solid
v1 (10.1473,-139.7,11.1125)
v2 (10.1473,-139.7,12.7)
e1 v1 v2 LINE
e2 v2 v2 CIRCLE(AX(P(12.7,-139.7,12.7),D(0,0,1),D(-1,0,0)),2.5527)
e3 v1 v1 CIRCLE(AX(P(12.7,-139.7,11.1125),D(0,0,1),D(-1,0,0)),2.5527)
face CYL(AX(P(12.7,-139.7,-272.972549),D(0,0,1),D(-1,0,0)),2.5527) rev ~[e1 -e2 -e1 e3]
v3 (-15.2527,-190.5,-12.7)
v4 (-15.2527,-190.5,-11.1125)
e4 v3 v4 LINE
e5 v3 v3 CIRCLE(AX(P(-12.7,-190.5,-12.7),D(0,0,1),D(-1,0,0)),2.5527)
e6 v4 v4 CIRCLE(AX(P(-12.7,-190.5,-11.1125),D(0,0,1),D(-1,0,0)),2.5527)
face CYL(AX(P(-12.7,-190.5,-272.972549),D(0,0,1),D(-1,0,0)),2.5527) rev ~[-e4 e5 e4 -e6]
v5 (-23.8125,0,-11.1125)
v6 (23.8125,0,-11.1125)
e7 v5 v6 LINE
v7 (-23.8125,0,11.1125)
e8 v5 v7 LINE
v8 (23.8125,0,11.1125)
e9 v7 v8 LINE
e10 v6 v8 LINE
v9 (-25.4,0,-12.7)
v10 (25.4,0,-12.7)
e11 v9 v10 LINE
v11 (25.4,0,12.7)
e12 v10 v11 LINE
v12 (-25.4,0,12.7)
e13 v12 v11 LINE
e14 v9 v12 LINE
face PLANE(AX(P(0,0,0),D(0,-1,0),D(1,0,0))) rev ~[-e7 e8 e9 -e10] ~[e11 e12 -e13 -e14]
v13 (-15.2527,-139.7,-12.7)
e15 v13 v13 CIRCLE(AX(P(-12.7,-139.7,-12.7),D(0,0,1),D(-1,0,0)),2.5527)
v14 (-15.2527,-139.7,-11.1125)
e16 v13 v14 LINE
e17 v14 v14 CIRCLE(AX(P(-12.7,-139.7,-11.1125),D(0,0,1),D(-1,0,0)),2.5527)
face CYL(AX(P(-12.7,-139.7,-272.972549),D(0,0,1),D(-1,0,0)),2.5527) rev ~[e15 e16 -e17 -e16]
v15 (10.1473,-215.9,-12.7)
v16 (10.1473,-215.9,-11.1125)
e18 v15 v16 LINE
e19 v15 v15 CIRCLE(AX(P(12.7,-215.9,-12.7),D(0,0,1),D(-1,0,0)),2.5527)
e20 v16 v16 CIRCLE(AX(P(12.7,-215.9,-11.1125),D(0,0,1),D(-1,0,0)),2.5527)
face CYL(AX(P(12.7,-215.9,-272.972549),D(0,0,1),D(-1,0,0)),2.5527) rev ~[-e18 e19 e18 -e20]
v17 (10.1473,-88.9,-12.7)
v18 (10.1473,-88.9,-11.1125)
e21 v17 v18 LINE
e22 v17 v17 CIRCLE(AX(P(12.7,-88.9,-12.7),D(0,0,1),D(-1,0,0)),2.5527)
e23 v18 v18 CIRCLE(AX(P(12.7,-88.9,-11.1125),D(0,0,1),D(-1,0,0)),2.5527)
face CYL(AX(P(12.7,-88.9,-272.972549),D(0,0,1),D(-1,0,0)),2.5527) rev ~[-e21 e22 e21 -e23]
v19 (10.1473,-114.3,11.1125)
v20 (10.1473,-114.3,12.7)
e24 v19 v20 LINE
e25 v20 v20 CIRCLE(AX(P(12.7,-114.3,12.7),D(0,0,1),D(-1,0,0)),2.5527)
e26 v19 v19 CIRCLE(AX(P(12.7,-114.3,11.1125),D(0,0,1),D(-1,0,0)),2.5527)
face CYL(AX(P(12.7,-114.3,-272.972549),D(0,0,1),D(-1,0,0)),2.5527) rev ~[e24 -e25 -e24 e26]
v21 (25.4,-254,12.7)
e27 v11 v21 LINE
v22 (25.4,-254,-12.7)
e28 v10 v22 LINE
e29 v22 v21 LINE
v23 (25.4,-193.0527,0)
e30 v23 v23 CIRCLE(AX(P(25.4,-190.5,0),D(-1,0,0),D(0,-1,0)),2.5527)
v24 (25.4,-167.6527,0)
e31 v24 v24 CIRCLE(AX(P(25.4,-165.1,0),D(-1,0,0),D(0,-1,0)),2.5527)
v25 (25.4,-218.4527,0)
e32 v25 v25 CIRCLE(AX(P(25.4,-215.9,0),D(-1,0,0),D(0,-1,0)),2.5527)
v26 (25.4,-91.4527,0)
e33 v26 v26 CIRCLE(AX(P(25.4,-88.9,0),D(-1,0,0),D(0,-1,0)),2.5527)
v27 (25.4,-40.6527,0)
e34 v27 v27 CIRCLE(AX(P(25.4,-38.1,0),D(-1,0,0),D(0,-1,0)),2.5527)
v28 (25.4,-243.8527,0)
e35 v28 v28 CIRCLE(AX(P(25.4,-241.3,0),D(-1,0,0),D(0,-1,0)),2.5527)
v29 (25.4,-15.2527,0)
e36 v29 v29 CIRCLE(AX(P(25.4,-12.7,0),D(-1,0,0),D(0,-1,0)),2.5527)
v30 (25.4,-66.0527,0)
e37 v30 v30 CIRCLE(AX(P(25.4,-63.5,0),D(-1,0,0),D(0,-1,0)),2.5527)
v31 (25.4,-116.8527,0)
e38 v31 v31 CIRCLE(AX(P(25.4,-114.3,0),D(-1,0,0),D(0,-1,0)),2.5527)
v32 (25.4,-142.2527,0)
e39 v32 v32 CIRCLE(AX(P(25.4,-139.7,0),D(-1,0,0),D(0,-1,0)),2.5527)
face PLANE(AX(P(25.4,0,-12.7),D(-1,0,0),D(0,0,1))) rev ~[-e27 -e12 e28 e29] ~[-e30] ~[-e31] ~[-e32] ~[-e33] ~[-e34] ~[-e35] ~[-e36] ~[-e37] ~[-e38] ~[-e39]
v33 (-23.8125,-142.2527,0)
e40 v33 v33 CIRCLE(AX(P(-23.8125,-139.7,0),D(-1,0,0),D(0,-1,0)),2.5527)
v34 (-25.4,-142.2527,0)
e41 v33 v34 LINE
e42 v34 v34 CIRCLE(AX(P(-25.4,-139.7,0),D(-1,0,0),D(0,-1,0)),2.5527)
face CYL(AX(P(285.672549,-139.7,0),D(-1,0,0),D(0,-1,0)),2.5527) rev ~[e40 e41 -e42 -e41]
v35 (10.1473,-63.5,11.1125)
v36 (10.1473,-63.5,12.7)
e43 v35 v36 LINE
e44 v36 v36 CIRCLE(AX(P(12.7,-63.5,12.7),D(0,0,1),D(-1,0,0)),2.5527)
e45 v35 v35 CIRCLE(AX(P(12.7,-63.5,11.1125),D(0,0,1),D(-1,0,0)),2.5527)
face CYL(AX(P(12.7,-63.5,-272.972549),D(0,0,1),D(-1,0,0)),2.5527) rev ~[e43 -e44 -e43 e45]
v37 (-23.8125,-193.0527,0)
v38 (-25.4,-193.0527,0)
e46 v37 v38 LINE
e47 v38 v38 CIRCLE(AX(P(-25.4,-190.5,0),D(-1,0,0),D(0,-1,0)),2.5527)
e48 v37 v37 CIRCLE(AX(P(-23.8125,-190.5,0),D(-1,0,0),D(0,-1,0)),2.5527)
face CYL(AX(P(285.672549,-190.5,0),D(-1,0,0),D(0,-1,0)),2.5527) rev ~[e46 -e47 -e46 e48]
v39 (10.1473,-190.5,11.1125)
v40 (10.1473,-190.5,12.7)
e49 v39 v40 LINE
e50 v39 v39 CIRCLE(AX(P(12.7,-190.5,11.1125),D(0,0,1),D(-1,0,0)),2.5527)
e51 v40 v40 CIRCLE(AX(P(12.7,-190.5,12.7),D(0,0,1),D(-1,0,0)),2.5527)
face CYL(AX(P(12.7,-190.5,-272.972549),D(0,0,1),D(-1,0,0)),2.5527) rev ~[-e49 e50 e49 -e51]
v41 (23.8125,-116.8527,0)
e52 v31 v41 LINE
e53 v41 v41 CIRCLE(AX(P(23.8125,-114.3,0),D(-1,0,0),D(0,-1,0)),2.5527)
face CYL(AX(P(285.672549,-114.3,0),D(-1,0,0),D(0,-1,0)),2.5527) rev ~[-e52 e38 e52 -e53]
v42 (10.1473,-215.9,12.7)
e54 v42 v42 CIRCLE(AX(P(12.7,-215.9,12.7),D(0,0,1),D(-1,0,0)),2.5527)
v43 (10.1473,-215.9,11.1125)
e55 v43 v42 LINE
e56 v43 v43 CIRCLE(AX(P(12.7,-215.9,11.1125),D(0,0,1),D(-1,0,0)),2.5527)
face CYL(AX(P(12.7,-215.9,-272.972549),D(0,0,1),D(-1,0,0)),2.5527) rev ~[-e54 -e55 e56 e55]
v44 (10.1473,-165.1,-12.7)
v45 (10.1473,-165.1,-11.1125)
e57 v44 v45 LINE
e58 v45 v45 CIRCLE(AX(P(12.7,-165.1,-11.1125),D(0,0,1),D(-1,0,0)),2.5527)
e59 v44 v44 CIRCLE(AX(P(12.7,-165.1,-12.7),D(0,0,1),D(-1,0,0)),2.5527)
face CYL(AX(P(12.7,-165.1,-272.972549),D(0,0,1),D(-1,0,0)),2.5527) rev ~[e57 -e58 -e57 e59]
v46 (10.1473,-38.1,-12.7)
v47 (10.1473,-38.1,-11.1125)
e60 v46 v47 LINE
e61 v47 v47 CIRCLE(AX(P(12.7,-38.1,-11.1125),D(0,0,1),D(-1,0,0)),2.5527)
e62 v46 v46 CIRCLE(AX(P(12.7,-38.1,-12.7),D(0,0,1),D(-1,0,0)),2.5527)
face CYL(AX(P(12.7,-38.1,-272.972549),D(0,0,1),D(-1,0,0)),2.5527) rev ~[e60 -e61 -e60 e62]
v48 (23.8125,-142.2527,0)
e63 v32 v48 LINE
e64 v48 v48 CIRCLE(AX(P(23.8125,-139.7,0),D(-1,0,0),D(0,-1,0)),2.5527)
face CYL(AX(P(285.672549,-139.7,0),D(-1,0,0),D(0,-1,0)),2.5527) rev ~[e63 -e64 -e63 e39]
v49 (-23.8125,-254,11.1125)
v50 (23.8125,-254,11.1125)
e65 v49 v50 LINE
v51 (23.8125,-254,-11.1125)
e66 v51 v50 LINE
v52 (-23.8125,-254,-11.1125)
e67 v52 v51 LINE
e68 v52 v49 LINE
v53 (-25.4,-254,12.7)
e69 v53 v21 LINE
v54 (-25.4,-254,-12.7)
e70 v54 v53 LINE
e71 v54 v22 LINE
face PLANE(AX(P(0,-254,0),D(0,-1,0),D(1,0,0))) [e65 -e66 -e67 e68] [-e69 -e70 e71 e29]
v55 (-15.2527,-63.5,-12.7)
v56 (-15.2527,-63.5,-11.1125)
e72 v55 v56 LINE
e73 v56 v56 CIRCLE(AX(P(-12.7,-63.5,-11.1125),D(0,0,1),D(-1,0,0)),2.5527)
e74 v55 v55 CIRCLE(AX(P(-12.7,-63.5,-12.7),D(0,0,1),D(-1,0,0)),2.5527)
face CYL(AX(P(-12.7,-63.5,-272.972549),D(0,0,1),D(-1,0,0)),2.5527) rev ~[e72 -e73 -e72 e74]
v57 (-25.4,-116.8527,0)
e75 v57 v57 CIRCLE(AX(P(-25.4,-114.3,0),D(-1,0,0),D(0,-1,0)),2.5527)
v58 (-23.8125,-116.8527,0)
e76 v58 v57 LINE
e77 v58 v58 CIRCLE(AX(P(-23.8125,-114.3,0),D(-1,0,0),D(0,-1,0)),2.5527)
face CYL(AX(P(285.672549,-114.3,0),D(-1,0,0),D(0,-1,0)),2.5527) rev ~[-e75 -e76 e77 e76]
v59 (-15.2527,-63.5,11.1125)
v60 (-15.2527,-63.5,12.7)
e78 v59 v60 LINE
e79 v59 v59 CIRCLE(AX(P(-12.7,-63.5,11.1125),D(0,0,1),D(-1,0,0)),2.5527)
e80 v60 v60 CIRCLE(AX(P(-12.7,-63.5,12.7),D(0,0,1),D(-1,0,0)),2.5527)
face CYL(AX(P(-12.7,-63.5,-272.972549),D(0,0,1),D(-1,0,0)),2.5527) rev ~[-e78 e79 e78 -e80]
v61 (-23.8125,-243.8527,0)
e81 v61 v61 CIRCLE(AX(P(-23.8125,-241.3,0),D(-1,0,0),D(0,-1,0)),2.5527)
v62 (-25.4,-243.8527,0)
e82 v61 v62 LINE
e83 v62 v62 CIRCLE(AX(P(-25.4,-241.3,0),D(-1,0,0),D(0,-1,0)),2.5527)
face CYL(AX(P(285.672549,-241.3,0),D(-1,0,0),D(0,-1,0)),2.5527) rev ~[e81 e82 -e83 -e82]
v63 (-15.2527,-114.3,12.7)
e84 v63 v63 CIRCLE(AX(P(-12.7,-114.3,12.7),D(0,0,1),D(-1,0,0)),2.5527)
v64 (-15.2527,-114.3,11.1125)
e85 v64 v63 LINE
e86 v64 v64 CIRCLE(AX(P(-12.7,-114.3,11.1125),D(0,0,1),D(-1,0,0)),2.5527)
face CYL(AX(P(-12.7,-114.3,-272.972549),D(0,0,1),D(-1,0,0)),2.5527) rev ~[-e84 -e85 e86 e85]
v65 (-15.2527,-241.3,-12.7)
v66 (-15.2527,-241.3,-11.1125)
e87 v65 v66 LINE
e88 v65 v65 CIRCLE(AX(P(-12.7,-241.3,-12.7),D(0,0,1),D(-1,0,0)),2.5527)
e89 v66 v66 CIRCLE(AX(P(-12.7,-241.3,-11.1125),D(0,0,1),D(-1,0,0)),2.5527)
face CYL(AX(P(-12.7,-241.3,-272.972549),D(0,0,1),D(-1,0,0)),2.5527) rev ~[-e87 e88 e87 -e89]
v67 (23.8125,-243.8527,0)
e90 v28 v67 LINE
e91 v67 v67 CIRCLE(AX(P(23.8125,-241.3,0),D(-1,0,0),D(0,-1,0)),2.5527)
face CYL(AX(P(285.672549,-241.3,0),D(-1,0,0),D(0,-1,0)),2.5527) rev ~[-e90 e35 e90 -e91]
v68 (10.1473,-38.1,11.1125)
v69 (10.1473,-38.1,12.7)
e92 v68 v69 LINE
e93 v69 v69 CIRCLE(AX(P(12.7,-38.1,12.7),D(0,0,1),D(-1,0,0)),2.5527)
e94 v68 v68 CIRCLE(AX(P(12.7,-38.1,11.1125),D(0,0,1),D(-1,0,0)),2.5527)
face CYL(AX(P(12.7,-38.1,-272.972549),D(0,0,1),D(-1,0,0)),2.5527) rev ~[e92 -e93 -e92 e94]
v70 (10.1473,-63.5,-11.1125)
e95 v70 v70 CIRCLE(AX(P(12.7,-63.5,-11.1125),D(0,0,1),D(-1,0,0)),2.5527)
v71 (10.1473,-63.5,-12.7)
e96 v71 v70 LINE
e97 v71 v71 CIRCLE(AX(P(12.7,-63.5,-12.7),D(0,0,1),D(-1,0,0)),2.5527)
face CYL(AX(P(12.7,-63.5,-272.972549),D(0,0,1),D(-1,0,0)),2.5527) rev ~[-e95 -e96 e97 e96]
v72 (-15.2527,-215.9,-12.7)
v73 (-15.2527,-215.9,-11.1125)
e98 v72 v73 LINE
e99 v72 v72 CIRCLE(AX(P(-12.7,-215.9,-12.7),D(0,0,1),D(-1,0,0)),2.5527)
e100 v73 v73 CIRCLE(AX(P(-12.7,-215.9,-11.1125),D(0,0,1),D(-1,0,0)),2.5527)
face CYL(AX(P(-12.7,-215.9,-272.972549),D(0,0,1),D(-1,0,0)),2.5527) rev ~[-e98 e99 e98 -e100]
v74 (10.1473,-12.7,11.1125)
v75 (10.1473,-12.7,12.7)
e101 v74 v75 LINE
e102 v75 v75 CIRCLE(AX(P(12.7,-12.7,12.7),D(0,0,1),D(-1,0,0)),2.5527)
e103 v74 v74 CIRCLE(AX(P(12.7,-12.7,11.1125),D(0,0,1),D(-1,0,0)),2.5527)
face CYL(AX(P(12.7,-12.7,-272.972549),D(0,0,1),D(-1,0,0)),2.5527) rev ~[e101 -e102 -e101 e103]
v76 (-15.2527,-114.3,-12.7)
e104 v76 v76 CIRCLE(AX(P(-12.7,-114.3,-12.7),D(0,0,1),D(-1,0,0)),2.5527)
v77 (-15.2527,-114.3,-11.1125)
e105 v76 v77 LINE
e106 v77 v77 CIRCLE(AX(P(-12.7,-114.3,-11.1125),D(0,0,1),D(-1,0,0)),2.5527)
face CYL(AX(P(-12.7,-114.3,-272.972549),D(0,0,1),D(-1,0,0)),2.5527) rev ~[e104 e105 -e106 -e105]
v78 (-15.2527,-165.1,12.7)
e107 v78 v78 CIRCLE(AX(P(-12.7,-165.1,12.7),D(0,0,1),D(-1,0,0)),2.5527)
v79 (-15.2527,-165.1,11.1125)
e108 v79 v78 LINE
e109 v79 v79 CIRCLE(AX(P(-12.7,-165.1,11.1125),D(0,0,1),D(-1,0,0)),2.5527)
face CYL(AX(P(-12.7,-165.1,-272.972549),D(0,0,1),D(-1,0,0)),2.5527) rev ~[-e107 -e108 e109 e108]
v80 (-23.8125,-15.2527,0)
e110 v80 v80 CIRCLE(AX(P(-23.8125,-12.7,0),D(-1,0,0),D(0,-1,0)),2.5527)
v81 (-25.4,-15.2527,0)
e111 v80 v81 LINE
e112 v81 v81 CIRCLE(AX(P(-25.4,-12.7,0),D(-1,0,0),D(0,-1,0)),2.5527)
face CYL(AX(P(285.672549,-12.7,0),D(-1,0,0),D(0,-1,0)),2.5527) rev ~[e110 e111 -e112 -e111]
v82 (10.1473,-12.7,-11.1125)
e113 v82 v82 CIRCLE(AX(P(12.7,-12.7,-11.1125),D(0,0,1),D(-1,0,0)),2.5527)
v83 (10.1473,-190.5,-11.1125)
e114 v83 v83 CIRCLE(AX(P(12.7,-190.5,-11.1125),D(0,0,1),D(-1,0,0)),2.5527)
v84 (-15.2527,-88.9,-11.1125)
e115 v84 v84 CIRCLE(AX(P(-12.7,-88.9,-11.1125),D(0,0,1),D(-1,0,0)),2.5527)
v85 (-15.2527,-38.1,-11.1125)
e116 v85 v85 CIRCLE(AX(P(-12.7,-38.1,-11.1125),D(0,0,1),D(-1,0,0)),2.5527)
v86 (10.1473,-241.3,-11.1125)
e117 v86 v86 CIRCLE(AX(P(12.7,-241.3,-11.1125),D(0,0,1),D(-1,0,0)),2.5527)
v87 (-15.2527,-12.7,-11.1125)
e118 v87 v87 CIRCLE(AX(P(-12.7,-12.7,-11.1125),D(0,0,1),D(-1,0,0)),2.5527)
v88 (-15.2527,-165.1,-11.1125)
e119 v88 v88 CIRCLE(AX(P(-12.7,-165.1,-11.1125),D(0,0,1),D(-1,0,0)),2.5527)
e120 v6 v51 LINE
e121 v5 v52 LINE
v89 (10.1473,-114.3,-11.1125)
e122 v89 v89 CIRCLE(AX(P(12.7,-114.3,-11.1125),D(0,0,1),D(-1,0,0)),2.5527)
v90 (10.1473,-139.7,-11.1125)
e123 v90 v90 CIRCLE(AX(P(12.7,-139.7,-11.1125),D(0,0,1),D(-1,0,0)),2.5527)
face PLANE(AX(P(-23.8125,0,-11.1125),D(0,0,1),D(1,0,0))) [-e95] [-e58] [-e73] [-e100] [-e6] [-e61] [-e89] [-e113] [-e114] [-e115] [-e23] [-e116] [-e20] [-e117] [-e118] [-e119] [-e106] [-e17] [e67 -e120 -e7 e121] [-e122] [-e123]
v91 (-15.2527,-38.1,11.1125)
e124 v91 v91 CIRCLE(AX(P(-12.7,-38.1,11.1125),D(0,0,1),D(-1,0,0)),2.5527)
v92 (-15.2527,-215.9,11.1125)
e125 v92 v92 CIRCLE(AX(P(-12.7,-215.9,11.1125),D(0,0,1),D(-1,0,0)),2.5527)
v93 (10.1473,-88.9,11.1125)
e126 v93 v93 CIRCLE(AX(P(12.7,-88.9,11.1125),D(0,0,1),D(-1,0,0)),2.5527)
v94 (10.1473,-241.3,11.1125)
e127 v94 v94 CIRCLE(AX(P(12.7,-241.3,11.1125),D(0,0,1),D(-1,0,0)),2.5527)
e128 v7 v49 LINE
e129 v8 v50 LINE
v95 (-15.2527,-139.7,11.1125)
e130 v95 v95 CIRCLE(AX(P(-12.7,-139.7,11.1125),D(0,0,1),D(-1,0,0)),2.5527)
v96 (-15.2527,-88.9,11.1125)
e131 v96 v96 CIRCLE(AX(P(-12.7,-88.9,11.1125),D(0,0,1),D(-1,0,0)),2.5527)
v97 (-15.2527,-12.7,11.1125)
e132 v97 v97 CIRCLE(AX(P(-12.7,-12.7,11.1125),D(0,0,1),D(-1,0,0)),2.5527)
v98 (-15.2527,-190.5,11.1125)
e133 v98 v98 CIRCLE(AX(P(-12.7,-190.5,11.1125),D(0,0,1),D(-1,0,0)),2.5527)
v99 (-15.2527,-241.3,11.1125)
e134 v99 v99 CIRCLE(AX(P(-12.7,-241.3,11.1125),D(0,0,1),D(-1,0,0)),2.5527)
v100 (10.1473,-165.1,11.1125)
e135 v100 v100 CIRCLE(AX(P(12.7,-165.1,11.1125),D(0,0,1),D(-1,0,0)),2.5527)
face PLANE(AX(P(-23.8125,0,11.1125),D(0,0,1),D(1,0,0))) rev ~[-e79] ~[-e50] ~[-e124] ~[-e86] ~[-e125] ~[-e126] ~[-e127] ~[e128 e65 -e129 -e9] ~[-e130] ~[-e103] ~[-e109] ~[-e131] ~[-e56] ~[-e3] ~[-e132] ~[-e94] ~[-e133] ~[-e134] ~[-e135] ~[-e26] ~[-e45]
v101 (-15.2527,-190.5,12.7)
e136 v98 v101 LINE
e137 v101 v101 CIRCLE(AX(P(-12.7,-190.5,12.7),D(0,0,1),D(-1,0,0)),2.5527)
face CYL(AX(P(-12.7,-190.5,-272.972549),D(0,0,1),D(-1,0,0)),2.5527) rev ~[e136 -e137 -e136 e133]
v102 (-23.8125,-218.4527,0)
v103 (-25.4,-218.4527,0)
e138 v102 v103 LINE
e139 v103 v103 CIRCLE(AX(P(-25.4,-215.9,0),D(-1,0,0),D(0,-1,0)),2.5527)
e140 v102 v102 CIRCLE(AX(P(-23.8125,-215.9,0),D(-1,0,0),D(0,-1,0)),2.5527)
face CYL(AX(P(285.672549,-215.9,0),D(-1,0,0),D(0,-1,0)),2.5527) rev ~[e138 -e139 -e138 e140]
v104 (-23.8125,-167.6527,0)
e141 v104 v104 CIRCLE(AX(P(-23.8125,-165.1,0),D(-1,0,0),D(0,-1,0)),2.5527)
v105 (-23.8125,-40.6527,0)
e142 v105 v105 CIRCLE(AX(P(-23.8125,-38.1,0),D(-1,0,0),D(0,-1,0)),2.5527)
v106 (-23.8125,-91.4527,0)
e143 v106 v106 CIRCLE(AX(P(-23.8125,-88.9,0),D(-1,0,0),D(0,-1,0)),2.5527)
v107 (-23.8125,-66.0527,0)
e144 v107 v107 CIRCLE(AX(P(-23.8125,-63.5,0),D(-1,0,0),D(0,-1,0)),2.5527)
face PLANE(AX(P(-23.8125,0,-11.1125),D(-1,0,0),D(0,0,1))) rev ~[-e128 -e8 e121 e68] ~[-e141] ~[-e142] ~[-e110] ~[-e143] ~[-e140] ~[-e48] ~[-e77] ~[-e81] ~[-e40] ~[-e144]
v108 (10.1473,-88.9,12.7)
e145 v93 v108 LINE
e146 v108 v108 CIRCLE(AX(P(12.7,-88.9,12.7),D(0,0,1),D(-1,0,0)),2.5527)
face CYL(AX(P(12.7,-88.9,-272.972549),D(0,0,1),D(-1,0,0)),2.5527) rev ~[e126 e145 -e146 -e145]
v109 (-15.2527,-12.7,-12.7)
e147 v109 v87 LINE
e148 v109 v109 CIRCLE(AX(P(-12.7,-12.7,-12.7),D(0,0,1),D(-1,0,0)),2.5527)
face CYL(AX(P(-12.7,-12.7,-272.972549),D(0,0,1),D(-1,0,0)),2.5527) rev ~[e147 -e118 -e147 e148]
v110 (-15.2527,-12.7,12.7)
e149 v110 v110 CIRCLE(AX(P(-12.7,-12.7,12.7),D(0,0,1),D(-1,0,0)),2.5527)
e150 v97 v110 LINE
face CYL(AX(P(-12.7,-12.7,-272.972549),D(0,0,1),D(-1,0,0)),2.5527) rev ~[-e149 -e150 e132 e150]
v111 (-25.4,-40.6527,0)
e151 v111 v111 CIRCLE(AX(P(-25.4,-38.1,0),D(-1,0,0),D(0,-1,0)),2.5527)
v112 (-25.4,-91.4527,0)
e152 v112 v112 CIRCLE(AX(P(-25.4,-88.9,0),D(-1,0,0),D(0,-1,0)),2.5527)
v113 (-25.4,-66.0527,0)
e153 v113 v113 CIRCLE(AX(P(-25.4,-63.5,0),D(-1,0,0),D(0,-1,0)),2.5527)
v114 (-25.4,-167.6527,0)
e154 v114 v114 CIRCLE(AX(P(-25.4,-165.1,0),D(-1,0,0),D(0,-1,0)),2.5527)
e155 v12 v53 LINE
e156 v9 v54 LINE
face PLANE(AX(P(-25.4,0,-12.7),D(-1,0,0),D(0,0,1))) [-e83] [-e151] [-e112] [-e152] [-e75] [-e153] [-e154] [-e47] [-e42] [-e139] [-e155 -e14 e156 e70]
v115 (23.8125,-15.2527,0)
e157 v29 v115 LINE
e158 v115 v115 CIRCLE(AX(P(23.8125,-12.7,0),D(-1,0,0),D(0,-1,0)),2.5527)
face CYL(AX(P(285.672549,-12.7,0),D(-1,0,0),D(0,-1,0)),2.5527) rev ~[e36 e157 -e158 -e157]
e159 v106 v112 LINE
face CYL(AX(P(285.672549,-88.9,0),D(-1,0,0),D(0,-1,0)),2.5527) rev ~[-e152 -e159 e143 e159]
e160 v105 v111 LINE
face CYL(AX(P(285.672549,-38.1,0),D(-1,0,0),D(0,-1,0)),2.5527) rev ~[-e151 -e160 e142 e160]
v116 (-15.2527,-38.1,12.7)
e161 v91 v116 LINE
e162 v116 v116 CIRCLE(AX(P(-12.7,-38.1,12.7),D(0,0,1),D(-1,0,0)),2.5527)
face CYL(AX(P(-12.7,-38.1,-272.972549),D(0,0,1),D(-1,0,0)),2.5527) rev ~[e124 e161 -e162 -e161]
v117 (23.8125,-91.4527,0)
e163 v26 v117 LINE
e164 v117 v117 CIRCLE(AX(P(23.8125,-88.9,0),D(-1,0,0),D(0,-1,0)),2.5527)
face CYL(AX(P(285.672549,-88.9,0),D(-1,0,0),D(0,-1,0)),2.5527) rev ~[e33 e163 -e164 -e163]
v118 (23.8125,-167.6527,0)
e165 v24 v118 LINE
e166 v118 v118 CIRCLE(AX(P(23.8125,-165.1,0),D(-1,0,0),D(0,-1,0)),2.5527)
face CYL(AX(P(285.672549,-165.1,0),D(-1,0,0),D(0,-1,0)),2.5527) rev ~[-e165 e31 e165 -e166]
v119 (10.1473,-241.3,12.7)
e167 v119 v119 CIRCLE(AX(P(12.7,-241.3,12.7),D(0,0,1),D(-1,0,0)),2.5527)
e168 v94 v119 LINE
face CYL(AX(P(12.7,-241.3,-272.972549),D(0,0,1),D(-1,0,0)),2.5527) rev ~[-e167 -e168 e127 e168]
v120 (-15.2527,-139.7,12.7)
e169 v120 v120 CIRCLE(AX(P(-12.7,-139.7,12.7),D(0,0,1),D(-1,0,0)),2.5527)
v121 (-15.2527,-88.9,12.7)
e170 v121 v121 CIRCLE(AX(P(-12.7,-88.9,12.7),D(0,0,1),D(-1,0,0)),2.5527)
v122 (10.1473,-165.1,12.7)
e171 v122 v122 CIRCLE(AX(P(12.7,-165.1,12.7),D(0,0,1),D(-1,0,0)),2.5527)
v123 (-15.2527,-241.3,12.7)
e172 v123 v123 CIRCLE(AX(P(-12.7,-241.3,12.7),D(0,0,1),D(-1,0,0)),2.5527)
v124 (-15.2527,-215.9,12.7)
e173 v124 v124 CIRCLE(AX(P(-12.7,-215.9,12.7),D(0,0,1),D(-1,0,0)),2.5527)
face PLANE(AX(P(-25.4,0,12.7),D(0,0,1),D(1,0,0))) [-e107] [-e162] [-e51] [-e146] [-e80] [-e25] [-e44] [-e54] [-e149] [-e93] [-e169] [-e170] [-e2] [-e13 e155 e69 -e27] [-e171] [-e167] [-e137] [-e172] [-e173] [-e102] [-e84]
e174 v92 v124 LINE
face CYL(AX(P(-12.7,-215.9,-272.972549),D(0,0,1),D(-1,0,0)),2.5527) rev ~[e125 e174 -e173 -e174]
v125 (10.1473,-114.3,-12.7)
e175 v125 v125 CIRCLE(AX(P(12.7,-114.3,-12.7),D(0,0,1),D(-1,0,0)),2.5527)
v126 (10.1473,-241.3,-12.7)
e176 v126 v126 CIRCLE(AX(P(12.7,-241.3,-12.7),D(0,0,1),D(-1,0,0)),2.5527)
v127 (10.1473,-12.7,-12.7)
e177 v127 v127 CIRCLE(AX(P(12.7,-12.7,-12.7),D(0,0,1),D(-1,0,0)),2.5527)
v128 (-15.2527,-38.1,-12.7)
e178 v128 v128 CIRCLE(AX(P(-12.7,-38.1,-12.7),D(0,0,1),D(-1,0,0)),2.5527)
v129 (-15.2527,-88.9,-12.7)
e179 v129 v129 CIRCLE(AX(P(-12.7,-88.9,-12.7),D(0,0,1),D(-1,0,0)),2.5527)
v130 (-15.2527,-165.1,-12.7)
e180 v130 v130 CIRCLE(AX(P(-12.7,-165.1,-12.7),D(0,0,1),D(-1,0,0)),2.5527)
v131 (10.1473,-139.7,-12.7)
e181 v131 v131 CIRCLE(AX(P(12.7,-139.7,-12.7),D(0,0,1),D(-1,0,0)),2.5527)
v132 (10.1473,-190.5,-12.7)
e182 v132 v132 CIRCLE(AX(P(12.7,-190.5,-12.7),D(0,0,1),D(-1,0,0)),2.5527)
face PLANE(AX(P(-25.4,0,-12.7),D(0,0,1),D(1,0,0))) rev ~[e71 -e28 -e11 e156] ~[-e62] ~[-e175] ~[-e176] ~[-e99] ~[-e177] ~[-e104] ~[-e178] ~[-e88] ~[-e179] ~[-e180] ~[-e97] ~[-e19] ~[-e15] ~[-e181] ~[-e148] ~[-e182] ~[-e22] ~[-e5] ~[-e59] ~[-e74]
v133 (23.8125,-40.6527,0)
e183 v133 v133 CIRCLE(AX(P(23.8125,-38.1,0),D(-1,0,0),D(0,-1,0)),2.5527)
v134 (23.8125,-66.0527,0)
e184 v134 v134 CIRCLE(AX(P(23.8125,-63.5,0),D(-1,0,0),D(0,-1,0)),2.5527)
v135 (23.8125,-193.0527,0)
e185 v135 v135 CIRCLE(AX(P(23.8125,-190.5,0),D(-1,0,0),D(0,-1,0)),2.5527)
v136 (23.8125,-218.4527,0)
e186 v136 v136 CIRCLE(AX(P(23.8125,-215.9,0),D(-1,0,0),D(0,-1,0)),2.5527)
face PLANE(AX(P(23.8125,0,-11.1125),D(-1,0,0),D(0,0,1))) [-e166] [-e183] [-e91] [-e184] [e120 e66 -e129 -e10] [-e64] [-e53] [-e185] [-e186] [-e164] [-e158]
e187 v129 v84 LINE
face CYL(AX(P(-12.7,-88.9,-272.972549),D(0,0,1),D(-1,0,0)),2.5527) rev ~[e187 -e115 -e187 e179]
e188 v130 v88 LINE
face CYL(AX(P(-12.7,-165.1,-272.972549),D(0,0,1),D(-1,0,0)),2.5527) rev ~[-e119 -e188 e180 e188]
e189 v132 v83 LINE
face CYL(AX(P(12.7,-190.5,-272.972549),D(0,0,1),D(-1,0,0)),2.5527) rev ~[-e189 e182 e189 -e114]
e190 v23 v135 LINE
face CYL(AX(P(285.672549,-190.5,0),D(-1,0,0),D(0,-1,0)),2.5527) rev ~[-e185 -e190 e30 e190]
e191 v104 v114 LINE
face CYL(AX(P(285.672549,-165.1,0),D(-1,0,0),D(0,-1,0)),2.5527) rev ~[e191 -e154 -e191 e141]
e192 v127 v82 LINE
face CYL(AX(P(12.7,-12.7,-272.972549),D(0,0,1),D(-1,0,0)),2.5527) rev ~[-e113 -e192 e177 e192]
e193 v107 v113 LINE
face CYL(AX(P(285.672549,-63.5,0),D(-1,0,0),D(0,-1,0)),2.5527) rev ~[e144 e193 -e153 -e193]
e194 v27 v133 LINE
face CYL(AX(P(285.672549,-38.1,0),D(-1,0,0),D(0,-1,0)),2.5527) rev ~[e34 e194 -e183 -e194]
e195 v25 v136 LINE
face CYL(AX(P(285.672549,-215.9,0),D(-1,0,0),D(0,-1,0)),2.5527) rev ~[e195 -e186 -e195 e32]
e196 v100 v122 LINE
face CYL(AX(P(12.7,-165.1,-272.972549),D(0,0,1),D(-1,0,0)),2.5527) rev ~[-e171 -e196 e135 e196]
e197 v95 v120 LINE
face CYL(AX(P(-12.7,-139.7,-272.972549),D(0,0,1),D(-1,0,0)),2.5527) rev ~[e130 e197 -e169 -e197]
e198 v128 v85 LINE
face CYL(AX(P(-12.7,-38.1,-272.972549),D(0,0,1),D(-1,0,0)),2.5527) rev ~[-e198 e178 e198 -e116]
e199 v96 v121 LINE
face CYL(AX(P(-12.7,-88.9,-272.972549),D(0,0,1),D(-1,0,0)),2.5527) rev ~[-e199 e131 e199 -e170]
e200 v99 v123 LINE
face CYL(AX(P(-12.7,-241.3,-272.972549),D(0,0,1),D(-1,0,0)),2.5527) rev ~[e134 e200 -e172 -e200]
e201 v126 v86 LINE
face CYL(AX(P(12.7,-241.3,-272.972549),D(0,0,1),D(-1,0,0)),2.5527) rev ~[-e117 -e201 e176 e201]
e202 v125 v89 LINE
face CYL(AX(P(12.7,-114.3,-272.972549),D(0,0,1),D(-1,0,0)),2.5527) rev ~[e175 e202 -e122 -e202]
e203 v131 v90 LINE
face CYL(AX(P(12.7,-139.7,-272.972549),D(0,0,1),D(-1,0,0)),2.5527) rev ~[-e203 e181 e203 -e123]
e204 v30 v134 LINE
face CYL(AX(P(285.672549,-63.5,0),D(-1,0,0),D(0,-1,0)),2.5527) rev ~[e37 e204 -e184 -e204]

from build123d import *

# Parameters (mm, degrees)
F0_W     = 50.8
F0_H     = 25.4
F0_W_2   = 47.625
F0_H_2   = 22.225
F1_DEPTH = 254
F3_D     = 5.1054
F5_D     = 5.1054


with BuildPart() as f1:
    # F0 (on Front) → F1 (new body)
    with BuildSketch(Plane.XZ):
        Rectangle(F0_W, F0_H)
        Rectangle(F0_W_2, F0_H_2, mode=Mode.SUBTRACT)
    extrude(amount=F1_DEPTH)

    # F3 (through all)
    with Locations(Plane.YZ.offset(25.4)):
        with Locations((-12.7, 0), (-38.1, 0), (-63.5, 0), (-88.9, 0), (-114.3, 0), (-241.3, 0), (-139.7, 0), (-165.1, 0), (-190.5, 0), (-215.9, 0)):
            Hole(F3_D / 2)

    # F5 (through all)
    with Locations(Plane(origin=(0, 0, -12.7), x_dir=(1, 0, 0), z_dir=(0, 0, -1))):
        with Locations((-12.7, 63.5), (-12.7, 88.9), (-12.7, 114.3), (-12.7, 139.7), (-12.7, 165.1), (-12.7, 190.5), (-12.7, 215.9), (12.7, 241.3), (12.7, 139.7), (12.7, 88.9), (12.7, 190.5), (12.7, 114.3), (12.7, 63.5), (-12.7, 241.3), (12.7, 38.1), (12.7, 215.9), (12.7, 12.7), (-12.7, 12.7), (12.7, 165.1), (-12.7, 38.1)):
            Hole(F5_D / 2)


solid = f1.part
